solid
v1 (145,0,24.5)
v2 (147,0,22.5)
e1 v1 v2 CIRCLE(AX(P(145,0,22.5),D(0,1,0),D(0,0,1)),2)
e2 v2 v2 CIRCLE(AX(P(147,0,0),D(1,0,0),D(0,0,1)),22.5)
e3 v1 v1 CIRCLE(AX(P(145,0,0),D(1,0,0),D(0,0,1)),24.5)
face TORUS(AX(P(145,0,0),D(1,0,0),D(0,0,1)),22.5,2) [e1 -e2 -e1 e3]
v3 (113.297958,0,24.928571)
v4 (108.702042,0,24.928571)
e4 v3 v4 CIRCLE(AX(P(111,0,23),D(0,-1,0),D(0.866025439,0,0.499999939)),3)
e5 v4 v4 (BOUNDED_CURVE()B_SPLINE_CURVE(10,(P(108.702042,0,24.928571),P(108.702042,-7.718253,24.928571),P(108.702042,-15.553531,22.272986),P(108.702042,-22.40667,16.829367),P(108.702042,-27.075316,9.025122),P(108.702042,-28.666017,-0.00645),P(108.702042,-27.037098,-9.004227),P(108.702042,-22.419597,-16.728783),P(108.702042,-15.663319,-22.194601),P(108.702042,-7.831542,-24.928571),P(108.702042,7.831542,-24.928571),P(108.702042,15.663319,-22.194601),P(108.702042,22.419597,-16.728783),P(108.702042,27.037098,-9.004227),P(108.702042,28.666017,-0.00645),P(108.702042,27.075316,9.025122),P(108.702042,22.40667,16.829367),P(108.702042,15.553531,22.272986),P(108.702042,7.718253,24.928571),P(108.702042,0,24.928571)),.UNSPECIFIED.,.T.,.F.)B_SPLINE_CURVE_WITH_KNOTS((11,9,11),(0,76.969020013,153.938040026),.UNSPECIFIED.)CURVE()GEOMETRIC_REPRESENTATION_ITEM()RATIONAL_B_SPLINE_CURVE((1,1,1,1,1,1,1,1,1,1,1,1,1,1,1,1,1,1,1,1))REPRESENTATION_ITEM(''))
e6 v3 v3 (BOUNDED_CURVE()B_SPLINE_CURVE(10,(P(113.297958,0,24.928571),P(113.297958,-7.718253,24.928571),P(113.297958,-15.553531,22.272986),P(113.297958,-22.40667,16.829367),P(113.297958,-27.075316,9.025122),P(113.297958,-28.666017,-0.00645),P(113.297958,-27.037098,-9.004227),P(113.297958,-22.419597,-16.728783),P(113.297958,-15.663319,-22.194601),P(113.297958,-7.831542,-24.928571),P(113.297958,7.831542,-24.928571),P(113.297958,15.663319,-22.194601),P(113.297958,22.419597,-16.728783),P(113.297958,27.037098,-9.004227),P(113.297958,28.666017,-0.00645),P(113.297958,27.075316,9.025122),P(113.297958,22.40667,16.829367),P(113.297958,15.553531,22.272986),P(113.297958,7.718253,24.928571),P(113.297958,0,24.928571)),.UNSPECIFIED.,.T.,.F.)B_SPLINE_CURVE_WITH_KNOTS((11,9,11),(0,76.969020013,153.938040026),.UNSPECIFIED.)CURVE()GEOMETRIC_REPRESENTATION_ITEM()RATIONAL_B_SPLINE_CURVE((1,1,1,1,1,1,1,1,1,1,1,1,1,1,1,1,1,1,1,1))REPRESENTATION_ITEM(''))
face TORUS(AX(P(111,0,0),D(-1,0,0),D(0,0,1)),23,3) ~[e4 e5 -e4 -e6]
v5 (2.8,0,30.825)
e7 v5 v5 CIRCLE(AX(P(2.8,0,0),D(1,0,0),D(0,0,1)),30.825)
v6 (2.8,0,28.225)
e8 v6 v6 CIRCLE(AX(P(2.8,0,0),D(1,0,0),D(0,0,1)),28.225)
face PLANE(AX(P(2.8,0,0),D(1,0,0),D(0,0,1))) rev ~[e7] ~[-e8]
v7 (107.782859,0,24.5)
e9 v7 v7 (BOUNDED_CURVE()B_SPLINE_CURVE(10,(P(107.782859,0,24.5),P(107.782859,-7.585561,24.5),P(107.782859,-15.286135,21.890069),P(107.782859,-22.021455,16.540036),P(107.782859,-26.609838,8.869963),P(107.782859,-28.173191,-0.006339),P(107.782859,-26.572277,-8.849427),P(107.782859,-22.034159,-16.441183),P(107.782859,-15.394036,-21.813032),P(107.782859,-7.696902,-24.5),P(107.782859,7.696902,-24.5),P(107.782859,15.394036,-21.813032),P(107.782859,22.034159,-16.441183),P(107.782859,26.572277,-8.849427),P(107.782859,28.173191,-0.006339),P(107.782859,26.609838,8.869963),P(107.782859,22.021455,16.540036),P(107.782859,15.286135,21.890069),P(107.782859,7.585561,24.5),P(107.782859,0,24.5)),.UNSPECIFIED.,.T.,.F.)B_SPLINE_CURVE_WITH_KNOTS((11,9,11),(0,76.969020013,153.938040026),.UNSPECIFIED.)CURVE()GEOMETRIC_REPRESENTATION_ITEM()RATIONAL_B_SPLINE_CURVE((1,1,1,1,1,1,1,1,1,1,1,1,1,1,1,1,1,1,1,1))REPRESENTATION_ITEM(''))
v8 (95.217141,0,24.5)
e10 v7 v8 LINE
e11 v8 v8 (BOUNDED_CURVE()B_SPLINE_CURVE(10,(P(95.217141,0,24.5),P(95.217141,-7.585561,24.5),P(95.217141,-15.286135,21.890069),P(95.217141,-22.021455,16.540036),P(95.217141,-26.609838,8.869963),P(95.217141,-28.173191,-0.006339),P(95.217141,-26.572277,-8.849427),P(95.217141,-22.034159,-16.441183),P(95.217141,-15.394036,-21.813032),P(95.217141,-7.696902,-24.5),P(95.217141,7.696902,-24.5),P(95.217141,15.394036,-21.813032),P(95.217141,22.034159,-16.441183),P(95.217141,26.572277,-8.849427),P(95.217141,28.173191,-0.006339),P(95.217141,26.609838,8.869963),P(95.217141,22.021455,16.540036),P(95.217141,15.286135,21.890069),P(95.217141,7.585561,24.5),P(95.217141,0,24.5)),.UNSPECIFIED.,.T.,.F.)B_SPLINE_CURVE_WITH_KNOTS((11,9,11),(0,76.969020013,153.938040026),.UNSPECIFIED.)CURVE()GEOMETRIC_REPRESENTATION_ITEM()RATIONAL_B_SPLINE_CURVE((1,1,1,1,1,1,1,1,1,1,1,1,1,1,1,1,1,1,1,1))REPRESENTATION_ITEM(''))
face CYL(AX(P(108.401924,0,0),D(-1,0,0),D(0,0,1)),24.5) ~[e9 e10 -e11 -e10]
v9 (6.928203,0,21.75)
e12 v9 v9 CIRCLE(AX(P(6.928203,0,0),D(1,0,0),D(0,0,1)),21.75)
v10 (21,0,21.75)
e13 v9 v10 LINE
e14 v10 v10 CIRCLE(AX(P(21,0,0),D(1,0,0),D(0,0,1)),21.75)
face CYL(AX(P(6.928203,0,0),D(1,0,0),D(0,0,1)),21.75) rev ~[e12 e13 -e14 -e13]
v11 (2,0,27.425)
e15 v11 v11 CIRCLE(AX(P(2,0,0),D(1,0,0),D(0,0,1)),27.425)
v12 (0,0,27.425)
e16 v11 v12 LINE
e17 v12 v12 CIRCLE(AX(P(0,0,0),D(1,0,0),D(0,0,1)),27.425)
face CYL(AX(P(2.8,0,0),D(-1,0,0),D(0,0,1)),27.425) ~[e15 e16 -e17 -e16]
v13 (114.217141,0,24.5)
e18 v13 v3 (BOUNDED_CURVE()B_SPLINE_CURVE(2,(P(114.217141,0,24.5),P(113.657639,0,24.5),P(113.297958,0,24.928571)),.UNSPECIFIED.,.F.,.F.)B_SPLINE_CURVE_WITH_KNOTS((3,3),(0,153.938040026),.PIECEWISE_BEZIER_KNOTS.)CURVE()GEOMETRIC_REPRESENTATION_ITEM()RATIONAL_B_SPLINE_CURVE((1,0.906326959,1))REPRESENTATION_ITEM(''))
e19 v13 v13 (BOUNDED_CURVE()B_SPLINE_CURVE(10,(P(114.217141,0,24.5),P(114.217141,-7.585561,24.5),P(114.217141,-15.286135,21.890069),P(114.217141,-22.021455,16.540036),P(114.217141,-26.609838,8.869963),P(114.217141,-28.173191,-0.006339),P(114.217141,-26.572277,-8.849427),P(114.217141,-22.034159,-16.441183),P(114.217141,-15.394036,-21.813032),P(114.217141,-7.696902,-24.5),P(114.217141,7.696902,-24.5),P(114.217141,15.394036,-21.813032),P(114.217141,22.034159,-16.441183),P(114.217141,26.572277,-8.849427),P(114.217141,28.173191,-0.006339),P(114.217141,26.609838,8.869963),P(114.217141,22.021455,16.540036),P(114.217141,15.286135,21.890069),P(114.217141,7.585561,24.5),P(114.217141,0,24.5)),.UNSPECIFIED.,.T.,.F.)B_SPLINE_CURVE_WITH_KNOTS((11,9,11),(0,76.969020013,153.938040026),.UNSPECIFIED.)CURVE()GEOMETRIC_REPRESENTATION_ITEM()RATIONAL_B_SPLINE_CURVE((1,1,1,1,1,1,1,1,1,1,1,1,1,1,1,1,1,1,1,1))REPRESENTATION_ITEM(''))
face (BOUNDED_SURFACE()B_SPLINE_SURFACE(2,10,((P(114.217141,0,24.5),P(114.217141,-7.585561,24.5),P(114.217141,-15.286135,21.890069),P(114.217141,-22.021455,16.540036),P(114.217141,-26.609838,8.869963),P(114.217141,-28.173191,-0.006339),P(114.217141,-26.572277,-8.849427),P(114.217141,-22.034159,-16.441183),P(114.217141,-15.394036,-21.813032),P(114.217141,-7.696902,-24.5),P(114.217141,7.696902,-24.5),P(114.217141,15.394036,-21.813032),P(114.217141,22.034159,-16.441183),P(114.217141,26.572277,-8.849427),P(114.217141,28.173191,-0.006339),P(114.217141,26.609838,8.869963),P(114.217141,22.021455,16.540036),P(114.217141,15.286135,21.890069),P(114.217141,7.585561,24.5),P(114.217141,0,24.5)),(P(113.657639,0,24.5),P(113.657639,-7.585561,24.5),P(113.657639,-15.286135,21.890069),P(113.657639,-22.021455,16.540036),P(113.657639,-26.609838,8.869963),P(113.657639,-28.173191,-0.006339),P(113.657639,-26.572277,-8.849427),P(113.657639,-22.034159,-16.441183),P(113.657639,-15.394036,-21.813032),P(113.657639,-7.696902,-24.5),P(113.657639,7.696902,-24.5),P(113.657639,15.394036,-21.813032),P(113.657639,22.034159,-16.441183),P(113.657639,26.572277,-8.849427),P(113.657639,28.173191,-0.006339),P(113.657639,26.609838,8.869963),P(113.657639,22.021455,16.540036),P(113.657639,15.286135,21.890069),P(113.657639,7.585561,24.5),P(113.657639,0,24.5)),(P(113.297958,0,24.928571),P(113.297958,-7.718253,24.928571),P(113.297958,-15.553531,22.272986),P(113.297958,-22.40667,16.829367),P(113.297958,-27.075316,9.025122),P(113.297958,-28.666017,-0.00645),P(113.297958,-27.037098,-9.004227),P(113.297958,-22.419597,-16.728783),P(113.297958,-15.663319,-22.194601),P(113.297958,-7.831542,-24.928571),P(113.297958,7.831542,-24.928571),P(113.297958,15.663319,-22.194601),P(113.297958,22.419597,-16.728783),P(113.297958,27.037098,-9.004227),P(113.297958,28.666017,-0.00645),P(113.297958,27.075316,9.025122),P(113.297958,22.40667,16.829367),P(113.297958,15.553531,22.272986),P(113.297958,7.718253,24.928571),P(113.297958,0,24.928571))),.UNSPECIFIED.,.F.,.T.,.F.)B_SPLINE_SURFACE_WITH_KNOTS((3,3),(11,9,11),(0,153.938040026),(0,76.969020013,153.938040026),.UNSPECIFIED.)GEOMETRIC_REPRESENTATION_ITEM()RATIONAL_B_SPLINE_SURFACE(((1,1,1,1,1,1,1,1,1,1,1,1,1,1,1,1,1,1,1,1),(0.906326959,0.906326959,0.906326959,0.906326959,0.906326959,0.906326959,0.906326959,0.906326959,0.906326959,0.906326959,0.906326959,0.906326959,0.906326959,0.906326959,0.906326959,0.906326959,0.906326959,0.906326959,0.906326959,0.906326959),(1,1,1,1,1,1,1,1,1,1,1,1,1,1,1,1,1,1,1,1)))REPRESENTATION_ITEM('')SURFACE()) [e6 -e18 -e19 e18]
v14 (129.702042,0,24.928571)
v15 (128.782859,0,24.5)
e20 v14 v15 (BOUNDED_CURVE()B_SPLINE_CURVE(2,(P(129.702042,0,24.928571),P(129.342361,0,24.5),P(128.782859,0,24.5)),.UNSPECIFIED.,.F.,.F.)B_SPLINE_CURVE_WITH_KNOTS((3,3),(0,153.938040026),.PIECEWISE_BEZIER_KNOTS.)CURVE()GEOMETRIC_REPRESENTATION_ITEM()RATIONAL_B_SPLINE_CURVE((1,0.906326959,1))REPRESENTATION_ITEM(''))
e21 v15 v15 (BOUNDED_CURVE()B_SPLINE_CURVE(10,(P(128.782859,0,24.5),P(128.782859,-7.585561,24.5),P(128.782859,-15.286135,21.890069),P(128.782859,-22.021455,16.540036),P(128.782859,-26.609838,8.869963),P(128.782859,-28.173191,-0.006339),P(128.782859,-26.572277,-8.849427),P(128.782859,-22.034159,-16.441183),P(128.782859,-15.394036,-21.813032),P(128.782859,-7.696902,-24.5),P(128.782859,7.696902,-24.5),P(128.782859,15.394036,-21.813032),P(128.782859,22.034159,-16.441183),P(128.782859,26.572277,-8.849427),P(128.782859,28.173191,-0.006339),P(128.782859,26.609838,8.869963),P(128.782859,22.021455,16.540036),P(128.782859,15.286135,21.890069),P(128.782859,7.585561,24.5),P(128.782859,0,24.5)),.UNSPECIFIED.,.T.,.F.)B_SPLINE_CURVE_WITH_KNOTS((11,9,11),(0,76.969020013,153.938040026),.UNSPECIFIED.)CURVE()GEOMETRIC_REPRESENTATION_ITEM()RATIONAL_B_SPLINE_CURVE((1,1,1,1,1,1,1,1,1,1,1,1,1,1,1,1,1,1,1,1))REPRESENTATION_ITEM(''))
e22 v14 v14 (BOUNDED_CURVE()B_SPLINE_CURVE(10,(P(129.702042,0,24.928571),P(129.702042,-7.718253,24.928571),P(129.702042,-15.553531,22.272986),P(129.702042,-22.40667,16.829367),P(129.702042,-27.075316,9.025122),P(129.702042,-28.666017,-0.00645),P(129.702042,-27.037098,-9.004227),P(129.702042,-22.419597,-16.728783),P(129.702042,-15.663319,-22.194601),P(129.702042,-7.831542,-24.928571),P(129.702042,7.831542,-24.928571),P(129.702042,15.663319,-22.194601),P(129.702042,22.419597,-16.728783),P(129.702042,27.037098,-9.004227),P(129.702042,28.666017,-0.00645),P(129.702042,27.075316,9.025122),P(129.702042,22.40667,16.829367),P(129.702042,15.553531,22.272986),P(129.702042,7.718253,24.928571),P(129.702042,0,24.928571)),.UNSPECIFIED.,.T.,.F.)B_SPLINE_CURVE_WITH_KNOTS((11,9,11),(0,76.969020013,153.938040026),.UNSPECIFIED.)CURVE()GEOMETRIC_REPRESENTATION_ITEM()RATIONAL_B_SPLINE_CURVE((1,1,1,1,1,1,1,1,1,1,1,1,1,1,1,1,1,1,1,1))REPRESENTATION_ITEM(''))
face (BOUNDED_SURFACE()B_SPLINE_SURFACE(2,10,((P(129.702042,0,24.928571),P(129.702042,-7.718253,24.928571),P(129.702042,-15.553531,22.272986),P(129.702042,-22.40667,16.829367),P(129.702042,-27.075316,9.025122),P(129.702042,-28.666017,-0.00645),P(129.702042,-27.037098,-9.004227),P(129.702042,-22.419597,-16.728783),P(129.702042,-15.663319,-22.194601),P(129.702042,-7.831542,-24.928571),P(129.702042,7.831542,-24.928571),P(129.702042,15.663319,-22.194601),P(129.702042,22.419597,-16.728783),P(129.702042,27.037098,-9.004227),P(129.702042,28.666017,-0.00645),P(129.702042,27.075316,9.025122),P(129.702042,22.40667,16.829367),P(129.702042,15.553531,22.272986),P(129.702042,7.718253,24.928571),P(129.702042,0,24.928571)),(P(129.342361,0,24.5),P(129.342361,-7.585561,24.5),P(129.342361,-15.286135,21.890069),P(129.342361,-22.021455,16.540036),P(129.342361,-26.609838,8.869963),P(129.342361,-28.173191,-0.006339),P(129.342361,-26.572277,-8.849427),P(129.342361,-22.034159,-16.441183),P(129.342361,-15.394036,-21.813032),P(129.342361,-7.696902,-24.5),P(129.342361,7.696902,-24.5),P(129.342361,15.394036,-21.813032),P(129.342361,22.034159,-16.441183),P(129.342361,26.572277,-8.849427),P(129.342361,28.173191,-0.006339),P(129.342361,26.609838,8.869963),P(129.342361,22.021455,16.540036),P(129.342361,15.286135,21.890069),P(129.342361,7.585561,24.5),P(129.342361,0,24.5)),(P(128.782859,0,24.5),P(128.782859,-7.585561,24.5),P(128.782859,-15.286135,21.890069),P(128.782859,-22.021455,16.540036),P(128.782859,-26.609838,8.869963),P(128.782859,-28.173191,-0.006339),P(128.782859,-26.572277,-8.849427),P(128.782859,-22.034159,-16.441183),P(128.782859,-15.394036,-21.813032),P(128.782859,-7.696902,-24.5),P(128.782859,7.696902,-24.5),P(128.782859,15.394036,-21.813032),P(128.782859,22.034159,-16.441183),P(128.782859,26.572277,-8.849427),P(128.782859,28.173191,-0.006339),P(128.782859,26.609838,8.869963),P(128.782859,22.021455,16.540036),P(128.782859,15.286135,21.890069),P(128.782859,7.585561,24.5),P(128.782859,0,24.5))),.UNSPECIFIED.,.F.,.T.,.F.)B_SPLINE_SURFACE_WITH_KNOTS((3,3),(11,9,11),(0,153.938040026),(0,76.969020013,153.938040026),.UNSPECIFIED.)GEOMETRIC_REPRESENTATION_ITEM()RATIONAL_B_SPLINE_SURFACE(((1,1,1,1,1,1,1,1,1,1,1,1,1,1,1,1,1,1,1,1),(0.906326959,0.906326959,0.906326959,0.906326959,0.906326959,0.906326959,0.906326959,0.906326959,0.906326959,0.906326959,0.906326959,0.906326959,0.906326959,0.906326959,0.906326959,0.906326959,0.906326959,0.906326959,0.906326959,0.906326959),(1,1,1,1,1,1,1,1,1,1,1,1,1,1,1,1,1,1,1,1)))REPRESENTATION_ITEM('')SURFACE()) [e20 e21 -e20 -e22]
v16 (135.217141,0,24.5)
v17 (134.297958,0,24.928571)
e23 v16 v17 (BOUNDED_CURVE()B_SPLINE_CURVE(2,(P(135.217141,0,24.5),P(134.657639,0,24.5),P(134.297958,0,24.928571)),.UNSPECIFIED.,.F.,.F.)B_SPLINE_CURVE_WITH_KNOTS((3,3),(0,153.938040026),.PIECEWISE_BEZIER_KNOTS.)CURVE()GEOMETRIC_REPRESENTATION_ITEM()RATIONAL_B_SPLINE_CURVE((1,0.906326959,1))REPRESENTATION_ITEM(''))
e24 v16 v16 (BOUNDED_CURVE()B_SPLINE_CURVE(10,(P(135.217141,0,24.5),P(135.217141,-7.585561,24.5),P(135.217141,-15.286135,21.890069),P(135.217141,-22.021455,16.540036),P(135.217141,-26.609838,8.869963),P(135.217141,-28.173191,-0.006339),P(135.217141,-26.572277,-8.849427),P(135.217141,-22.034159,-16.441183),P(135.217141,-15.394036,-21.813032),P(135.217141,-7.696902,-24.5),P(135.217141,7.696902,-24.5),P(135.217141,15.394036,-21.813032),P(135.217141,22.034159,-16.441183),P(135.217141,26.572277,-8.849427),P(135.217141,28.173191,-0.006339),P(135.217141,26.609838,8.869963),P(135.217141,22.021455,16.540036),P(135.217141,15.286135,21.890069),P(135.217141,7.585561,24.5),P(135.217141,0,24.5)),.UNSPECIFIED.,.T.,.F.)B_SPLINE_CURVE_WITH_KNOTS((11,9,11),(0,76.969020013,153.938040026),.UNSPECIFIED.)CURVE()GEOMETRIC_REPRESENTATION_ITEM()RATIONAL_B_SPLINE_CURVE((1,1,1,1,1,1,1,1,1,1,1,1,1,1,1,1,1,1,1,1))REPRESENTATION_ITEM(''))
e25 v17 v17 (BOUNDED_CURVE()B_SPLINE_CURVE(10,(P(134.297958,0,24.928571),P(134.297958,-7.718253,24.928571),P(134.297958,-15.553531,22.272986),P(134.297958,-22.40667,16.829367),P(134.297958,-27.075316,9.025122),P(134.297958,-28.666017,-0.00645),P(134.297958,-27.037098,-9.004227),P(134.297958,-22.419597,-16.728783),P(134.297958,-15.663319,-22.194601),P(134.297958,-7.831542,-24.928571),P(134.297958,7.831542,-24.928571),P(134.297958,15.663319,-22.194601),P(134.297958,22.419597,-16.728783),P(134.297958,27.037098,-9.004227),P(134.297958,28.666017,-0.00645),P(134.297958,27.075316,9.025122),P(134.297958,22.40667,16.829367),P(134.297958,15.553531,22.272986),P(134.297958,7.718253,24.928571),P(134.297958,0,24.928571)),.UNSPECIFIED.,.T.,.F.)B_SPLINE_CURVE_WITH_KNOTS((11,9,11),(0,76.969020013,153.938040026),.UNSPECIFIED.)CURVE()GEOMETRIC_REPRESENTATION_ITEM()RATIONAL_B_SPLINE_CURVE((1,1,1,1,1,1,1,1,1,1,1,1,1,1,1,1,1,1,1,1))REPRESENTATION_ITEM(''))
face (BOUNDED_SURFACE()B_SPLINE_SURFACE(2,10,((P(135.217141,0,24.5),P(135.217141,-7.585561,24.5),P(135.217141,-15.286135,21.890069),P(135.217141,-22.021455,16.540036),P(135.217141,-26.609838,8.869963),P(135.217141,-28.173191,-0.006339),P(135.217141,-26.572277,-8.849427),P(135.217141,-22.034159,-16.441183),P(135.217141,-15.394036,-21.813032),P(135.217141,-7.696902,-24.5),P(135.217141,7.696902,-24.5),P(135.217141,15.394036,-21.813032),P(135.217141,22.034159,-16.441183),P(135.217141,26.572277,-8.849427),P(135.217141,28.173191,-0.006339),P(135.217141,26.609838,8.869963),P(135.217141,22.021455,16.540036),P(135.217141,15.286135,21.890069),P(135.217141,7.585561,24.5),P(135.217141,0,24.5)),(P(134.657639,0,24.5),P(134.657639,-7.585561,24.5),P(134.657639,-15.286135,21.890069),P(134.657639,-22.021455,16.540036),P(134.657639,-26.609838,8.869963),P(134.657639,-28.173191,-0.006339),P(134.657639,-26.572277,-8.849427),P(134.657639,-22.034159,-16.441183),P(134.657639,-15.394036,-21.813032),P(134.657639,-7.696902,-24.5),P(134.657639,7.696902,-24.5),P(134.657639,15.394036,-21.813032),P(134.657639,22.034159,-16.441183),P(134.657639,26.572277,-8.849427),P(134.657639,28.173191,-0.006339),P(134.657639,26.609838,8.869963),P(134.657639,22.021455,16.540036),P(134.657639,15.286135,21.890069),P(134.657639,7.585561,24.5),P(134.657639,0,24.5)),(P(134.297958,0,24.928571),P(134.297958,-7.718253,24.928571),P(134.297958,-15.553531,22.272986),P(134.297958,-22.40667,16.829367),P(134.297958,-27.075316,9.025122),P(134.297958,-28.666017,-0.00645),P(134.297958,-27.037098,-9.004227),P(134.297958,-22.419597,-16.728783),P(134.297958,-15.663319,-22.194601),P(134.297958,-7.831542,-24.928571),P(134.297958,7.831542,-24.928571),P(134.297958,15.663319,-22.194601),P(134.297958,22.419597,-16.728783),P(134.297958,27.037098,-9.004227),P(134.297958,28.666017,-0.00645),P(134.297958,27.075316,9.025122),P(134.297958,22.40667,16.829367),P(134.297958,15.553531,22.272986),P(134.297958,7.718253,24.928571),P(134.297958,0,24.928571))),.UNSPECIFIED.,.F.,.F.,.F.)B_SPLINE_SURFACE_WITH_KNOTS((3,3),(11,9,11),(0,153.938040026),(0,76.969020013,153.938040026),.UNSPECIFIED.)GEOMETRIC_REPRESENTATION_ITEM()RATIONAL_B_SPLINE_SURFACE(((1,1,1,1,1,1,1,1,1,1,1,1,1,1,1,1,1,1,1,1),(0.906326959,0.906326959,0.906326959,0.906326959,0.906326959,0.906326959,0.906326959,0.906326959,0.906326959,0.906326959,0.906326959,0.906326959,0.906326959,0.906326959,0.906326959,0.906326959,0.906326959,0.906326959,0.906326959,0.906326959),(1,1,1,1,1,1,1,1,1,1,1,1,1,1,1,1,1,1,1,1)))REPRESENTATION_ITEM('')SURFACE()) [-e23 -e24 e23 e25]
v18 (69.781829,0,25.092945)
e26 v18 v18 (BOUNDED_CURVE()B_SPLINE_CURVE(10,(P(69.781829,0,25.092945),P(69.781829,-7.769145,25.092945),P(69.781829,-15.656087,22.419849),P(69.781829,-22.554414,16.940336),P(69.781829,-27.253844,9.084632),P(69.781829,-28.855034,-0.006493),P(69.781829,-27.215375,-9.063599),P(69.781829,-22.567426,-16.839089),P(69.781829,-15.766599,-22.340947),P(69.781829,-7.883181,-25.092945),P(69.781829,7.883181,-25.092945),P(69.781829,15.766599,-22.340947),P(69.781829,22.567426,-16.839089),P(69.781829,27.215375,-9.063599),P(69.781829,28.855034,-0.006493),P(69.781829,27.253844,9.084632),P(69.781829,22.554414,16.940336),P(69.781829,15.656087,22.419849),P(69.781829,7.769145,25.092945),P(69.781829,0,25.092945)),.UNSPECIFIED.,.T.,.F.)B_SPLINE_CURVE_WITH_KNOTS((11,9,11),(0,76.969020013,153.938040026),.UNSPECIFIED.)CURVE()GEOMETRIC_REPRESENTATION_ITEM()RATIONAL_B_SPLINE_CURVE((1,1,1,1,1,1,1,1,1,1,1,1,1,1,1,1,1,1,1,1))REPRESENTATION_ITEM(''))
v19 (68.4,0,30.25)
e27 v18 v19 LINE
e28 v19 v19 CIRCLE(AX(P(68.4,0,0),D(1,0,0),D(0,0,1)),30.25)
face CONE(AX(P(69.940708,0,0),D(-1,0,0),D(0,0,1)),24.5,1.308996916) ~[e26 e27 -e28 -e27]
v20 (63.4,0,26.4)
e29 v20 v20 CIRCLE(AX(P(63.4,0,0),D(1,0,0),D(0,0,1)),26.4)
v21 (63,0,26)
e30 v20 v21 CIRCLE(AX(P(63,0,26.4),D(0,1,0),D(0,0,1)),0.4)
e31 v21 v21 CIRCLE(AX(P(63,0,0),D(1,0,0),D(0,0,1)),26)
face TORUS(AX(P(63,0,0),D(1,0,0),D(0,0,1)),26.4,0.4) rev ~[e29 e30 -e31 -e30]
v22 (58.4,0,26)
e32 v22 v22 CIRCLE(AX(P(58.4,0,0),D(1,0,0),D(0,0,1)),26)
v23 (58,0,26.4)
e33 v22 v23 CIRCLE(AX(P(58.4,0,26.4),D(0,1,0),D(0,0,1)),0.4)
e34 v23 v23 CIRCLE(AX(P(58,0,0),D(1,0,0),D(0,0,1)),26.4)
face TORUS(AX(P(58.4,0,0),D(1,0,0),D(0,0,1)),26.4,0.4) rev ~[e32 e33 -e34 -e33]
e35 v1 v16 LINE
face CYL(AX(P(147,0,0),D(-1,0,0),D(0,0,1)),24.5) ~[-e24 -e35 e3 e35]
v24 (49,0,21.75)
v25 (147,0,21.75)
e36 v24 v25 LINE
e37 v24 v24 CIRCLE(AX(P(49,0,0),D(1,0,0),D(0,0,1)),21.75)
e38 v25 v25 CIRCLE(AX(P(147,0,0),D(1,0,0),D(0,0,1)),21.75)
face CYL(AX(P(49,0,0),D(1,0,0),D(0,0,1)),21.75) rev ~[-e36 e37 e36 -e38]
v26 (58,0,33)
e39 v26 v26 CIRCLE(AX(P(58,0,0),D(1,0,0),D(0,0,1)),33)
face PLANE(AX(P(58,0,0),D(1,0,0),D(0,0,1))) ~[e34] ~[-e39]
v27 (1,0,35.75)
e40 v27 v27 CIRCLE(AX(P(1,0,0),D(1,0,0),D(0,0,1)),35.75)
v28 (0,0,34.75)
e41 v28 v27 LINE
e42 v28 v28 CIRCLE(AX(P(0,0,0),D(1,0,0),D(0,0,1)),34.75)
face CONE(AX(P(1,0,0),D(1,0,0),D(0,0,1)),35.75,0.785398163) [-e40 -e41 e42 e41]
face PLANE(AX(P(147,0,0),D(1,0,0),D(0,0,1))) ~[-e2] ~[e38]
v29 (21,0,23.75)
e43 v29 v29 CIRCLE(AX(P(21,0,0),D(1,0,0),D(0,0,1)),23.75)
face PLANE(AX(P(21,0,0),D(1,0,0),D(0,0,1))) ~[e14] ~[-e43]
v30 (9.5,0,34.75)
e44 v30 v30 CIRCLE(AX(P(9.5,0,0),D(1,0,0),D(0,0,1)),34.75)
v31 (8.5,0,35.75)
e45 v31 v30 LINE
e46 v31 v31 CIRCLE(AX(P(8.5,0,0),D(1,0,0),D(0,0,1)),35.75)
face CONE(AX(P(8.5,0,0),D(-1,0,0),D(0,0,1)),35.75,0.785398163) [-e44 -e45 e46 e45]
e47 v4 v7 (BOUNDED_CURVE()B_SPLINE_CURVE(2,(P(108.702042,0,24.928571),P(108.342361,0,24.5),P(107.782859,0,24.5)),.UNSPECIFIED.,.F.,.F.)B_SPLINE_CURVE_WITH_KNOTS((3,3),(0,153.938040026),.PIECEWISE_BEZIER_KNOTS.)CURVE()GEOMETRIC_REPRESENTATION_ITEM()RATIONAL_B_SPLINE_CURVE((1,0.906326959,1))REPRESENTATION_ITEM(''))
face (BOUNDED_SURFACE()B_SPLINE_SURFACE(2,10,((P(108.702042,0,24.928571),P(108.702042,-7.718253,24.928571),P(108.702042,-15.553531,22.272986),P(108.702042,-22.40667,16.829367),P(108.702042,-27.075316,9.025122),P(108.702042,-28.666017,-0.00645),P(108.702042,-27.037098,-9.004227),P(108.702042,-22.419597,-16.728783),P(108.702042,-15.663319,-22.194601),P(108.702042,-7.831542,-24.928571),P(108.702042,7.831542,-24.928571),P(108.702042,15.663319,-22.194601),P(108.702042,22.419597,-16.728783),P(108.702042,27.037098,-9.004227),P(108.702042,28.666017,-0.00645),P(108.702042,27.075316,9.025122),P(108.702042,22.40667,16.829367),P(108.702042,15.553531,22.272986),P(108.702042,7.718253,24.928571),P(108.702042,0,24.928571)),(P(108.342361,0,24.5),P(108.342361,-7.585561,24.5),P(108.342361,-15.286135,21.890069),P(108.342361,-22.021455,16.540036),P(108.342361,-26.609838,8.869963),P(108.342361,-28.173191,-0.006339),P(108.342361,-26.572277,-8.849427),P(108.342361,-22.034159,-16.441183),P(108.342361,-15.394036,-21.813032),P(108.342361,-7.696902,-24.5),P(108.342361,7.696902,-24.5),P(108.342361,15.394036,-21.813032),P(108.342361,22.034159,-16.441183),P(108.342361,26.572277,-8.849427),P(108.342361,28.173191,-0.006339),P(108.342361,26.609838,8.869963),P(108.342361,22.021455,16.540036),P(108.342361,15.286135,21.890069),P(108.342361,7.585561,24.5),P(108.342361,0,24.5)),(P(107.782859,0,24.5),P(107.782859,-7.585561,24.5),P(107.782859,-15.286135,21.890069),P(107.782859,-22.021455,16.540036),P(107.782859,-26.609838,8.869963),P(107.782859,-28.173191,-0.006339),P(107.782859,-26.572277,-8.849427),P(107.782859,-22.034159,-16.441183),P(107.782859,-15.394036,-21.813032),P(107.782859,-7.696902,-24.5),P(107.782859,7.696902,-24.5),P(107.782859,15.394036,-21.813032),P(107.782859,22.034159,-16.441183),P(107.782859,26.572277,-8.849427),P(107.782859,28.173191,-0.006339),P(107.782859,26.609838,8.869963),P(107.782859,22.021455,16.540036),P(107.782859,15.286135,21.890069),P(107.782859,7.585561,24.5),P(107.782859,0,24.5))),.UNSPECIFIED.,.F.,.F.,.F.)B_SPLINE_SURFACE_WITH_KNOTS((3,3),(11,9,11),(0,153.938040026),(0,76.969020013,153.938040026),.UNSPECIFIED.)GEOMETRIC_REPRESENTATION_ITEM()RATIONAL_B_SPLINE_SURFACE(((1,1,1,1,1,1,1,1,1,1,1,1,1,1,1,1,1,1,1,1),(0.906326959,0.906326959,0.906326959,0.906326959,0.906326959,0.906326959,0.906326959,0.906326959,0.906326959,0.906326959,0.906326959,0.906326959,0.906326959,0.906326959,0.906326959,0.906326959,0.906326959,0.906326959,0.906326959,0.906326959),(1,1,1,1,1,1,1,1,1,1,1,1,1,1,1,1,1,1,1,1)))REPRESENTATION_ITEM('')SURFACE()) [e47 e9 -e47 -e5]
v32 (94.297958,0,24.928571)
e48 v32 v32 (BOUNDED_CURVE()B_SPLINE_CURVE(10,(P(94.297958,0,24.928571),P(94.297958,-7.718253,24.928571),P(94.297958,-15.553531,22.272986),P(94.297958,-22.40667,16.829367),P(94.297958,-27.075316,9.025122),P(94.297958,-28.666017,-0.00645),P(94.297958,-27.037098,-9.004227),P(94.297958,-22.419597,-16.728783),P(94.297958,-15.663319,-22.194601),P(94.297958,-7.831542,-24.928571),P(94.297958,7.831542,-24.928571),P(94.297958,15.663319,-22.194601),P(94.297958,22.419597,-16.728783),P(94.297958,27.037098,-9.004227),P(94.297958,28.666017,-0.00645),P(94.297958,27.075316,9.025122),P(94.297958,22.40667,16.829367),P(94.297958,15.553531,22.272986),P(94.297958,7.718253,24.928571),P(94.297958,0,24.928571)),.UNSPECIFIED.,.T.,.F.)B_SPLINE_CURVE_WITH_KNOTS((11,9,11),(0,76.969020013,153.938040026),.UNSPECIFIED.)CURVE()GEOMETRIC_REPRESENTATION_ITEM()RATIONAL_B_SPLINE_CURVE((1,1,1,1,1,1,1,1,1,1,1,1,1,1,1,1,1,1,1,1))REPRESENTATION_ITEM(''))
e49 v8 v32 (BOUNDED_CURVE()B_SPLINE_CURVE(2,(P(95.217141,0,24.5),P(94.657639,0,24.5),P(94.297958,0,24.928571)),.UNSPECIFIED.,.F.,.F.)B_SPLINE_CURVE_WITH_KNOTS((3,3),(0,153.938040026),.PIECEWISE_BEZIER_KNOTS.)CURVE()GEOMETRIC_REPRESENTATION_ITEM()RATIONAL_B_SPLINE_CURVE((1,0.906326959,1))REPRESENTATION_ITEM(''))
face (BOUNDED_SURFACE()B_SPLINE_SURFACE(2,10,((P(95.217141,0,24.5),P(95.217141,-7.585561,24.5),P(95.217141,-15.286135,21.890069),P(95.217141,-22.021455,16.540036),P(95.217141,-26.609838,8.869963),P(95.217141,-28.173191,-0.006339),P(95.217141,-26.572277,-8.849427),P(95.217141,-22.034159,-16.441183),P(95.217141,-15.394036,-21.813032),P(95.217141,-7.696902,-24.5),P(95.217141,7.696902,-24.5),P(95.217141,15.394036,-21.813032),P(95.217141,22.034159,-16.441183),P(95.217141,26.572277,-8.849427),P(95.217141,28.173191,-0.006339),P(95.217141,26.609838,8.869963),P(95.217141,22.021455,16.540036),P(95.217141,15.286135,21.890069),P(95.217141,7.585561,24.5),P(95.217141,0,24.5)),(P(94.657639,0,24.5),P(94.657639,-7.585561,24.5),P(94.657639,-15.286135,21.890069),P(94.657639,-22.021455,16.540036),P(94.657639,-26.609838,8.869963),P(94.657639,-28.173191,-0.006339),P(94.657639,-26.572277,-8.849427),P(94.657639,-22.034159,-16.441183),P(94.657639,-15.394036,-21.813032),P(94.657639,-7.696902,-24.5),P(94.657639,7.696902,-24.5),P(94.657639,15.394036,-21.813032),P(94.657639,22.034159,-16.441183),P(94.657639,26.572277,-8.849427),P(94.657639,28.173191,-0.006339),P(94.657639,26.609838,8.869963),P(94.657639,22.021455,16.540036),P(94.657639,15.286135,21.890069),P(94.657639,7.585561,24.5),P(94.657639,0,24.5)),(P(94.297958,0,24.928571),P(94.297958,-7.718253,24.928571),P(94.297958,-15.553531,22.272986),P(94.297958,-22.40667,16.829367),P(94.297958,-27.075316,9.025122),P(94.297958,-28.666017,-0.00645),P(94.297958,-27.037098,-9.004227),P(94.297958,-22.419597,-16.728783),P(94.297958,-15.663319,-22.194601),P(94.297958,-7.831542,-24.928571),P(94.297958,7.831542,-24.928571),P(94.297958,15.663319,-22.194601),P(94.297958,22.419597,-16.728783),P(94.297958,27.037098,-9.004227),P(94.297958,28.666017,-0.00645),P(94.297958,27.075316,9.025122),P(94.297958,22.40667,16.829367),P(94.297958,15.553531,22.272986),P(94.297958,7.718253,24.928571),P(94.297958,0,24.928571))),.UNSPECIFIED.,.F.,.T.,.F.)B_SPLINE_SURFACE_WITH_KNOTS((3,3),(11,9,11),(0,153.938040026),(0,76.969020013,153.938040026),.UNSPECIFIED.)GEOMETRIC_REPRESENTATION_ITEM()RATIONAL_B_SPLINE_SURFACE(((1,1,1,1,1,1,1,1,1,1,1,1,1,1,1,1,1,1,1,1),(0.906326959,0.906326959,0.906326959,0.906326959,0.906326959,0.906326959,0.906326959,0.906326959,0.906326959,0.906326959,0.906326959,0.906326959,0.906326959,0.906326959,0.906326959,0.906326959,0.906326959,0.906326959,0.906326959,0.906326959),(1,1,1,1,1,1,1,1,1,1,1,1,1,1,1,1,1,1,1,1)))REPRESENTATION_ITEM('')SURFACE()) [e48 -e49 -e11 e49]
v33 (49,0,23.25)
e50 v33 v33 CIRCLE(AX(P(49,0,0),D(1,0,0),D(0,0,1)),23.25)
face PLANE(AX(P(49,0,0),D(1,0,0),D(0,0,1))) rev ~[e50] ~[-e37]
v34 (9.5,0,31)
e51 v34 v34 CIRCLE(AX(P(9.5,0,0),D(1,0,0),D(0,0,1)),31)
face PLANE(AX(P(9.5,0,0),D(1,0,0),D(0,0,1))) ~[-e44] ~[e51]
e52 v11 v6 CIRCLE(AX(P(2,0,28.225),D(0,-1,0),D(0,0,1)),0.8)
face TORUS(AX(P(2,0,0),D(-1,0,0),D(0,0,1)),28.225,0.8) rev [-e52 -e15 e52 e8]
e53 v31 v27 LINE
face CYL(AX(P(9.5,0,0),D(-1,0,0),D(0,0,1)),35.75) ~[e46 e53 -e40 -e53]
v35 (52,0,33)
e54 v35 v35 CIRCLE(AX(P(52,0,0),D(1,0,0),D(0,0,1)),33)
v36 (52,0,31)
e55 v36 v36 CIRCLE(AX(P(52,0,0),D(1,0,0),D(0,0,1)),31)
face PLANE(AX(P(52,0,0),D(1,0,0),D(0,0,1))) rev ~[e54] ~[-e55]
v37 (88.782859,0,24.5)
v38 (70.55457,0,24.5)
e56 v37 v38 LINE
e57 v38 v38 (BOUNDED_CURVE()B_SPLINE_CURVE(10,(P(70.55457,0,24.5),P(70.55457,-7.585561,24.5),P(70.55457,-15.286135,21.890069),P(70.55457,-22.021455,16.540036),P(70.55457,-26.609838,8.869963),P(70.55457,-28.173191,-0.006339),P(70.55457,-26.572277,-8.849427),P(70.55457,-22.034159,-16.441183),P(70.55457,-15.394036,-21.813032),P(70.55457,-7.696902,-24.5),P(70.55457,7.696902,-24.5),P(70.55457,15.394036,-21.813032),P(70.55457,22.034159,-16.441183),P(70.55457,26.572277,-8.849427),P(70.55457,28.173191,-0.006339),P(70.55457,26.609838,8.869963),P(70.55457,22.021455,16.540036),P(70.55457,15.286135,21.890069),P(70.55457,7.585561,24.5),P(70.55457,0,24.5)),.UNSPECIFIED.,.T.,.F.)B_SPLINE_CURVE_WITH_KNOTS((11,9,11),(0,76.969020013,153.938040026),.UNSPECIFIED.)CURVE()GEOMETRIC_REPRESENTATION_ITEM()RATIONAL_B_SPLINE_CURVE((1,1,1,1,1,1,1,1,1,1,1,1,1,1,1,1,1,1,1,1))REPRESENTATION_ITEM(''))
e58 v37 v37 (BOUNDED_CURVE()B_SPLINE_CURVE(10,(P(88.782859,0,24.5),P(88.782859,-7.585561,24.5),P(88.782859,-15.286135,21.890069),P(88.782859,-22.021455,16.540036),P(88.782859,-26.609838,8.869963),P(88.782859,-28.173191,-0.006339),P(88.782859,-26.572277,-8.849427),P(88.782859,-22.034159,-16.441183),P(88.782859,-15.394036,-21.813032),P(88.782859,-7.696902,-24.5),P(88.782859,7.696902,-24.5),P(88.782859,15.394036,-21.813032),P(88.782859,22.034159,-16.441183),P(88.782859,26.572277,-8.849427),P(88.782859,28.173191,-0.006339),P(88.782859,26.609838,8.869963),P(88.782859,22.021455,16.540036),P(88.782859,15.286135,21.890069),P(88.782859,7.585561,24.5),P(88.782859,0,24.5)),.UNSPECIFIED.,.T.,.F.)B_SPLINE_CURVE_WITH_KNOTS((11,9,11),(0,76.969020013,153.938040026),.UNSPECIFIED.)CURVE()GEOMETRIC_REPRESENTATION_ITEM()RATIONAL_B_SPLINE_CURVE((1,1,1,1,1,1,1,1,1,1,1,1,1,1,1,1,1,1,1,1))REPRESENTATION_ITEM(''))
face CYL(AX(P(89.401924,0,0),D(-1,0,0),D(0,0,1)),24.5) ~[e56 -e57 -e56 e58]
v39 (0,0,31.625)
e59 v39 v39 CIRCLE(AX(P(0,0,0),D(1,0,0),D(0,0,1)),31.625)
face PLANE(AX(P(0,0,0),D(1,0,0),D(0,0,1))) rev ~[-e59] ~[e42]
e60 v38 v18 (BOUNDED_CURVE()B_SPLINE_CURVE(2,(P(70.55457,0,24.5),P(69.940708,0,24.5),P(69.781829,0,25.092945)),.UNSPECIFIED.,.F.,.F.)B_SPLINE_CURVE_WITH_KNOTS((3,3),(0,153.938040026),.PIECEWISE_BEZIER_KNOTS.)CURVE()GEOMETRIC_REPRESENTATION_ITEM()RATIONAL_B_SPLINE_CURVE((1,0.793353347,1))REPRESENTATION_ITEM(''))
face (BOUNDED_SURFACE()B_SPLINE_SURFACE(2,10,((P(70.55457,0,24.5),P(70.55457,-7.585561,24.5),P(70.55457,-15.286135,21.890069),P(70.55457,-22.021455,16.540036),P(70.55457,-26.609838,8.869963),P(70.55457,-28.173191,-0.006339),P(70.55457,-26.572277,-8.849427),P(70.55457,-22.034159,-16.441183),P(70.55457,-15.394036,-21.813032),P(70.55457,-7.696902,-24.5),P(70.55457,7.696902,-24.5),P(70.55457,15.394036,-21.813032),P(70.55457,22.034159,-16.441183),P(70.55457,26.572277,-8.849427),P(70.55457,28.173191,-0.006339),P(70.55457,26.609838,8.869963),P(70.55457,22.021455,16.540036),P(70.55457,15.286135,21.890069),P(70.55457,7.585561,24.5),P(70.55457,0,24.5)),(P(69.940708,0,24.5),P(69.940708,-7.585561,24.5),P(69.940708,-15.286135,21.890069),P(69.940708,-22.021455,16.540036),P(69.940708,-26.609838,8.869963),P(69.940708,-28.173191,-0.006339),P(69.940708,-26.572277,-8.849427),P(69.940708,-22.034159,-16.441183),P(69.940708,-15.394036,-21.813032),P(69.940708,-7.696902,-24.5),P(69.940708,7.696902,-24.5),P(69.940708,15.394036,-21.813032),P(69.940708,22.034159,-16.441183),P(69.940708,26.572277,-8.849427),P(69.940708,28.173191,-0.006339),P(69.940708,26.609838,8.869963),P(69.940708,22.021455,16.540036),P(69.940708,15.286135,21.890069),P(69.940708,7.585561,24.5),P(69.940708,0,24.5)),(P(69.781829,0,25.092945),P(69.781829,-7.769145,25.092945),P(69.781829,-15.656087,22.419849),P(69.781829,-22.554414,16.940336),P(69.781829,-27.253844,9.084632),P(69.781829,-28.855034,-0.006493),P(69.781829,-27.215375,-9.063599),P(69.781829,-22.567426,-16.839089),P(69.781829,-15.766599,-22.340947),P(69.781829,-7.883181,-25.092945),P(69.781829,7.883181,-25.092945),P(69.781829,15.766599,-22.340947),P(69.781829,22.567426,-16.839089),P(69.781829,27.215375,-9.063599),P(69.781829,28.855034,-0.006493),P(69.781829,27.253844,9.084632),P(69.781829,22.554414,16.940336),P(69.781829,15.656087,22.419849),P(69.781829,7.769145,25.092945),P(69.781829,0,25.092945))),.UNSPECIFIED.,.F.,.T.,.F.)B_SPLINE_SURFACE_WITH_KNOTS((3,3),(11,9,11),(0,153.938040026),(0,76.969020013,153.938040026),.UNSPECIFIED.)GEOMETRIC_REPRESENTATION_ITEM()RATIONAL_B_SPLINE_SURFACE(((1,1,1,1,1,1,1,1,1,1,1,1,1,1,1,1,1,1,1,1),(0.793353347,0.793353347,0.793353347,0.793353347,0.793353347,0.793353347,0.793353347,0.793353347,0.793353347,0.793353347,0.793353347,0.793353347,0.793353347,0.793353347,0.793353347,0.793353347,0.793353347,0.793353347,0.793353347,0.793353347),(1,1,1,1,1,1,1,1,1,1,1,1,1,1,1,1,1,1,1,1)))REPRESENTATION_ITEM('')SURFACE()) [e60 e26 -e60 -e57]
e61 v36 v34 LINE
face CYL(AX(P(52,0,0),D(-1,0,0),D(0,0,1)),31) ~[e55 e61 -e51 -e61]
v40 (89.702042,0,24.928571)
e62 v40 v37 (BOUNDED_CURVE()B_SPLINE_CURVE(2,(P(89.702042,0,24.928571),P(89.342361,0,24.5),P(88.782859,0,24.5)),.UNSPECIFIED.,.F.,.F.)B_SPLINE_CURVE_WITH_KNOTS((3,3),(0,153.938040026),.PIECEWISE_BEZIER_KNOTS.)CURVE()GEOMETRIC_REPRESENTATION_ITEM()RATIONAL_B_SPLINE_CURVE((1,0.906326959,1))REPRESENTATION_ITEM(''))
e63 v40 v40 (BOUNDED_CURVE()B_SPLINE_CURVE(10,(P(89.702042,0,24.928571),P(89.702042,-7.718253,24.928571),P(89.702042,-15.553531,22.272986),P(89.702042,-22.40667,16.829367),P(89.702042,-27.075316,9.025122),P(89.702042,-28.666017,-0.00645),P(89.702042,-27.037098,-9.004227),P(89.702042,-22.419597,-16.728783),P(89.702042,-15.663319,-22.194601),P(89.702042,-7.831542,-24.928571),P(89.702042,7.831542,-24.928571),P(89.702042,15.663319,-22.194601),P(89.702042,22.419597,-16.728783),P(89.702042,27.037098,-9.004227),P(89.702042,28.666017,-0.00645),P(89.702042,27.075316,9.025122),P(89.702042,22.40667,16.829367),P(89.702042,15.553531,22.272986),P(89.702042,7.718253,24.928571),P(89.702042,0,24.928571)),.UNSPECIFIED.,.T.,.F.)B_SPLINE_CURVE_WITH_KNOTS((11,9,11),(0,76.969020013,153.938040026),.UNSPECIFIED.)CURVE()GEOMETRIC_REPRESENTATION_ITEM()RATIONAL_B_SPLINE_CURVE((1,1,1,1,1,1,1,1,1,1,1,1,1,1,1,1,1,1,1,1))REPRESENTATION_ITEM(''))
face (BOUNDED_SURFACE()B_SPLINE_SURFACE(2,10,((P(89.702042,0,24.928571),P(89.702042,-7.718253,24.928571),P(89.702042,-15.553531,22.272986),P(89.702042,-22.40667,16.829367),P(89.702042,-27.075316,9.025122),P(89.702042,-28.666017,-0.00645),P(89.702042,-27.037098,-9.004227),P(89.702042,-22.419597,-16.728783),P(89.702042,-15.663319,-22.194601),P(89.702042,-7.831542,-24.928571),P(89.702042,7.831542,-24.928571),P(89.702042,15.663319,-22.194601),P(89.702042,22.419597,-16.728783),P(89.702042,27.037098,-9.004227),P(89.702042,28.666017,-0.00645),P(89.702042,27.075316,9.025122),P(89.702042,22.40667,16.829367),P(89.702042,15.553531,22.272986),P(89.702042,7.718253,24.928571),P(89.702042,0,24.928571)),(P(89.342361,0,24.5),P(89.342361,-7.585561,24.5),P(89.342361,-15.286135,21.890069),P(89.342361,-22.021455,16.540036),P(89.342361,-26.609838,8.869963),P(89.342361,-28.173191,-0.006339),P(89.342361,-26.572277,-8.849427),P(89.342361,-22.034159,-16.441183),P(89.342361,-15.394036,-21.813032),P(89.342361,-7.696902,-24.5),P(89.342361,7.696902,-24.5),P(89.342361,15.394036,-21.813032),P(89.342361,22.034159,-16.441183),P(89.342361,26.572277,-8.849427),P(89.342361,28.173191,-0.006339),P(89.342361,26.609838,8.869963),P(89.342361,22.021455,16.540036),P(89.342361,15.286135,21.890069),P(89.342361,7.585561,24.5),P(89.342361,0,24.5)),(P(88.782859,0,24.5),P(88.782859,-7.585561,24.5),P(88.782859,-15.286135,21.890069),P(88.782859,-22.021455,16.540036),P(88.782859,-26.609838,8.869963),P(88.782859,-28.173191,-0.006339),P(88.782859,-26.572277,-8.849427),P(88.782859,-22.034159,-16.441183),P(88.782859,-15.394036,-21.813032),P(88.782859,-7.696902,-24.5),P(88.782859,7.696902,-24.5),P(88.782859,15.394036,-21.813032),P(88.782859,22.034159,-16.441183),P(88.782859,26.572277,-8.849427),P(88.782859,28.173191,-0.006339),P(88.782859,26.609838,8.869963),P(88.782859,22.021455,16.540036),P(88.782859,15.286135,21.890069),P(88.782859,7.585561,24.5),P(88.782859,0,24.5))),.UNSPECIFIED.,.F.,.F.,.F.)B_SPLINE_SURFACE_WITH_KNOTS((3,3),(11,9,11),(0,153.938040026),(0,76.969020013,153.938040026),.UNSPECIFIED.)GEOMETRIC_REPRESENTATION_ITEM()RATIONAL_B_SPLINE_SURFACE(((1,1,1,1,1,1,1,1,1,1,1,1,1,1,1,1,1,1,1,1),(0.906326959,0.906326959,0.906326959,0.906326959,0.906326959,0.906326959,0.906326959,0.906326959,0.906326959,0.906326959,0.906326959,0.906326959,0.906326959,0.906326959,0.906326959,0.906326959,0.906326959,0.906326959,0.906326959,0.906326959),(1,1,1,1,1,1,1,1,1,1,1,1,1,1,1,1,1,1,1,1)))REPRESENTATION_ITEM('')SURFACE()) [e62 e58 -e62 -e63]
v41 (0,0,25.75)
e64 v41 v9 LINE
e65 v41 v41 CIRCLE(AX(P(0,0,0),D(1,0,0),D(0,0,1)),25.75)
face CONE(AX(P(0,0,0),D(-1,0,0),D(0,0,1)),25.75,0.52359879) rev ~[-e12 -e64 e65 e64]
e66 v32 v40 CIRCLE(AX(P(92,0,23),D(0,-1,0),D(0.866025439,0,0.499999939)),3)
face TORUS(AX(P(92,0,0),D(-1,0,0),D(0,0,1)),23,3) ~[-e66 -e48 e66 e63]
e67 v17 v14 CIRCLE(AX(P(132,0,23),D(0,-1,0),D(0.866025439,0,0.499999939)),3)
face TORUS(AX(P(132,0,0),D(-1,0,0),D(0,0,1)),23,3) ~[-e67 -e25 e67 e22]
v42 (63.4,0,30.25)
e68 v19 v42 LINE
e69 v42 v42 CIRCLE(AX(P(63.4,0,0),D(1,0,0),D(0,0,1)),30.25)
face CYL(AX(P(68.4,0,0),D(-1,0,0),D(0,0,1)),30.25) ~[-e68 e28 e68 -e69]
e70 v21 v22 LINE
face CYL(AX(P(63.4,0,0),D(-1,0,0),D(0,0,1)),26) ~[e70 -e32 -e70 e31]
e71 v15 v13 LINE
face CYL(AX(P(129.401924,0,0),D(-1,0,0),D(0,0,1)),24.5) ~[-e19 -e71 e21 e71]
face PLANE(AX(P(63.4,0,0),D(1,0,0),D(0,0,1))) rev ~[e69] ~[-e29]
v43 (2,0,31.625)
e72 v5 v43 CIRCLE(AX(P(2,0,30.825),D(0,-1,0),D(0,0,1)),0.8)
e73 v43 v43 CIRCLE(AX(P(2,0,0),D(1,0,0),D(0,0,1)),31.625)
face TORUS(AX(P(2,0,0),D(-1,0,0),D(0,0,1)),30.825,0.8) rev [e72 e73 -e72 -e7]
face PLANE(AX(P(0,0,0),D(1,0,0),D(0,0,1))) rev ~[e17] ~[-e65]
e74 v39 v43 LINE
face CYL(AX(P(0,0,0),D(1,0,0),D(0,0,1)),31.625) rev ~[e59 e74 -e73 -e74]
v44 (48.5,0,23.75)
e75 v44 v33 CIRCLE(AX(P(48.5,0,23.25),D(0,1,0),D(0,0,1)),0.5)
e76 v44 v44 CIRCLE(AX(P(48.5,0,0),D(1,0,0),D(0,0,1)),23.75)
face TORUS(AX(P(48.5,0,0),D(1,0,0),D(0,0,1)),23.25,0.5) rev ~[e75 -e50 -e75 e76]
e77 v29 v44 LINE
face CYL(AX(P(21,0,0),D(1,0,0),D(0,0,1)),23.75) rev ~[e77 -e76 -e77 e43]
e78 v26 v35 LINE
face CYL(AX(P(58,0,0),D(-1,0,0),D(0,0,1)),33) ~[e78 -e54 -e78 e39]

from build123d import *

# Parameters (mm, degrees)
F2_R    = 1.2
F3_R    = 2
F4_R    = 0.8
F5_R    = 0.4
F6_R    = 0.5
F7_R    = 0.8
F8_SIZE = 1


with BuildPart() as f1:
    # F0 (on Front) → F1 (revolve)
    with BuildSketch(Plane.XZ):
        with BuildLine():
            Line((49, 21.75), (147, 21.75))
            Line((147, 21.75), (147, 24.5))
            Line((147, 24.5), (134.598076, 24.5))
            ThreePointArc((134.598076, 24.5), (132, 26), (129.401924, 24.5))
            Line((129.401924, 24.5), (113.598076, 24.5))
            ThreePointArc((113.598076, 24.5), (111, 26), (108.401924, 24.5))
            Line((108.401924, 24.5), (94.598076, 24.5))
            ThreePointArc((94.598076, 24.5), (92, 26), (89.401924, 24.5))
            Line((89.401924, 24.5), (69.940708, 24.5))
            Line((69.940708, 24.5), (68.4, 30.25))
            Line((68.4, 30.25), (63.4, 30.25))
            Line((63.4, 30.25), (63.4, 26))
            Line((63.4, 26), (58, 26))
            Line((58, 26), (58, 33))
            Line((58, 33), (52, 33))
            Line((52, 33), (52, 31))
            Line((52, 31), (9.5, 31))
            Line((9.5, 31), (9.5, 35.75))
            Line((9.5, 35.75), (0, 35.75))
            Line((0, 35.75), (0, 31.625))
            Line((0, 31.625), (2.8, 31.625))
            Line((2.8, 31.625), (2.8, 27.425))
            Line((2.8, 27.425), (0, 27.425))
            Line((0, 27.425), (0, 25.75))
            Line((0, 25.75), (6.928203, 21.75))
            Line((6.928203, 21.75), (21, 21.75))
            Line((21, 21.75), (21, 23.75))
            Line((21, 23.75), (49, 23.75))
            Line((49, 23.75), (49, 21.75))
        make_face()
    revolve(axis=Axis((44.485599, 0, 0), (1, 0, 0)))

    # F2
    f2_edges = [f1.edges().sort_by_distance(p)[0] for p in [
        (134.598076, 0, -24.5),
        (113.598076, 0, -24.5),
        (94.598076, 0, -24.5),
        (89.401924, 0, -24.5),
        (108.401924, 0, -24.5),
        (129.401924, 0, -24.5),
    ]]
    fillet(f2_edges, radius=F2_R)

    # F3
    f3_edges = [f1.edges().sort_by_distance(p)[0] for p in [
        (147, 0, -24.5),
    ]]
    fillet(f3_edges, radius=F3_R)

    # F4
    f4_edges = [f1.edges().sort_by_distance(p)[0] for p in [
        (69.940708, 0, -24.5),
    ]]
    fillet(f4_edges, radius=F4_R)

    # F5
    f5_edges = [f1.edges().sort_by_distance(p)[0] for p in [
        (58, 0, -26),
        (63.4, 0, -26),
    ]]
    fillet(f5_edges, radius=F5_R)

    # F6
    f6_edges = [f1.edges().sort_by_distance(p)[0] for p in [
        (49, 0, -23.75),
    ]]
    fillet(f6_edges, radius=F6_R)

    # F7
    f7_edges = [f1.edges().sort_by_distance(p)[0] for p in [
        (2.8, 0, -31.625),
        (2.8, 0, -27.425),
    ]]
    fillet(f7_edges, radius=F7_R)

    # F8
    f8_edges = [f1.edges().sort_by_distance(p)[0] for p in [
        (9.5, 0, -35.75),
        (0, 0, -35.75),
    ]]
    chamfer(f8_edges, length=F8_SIZE)


solid = f1.part
